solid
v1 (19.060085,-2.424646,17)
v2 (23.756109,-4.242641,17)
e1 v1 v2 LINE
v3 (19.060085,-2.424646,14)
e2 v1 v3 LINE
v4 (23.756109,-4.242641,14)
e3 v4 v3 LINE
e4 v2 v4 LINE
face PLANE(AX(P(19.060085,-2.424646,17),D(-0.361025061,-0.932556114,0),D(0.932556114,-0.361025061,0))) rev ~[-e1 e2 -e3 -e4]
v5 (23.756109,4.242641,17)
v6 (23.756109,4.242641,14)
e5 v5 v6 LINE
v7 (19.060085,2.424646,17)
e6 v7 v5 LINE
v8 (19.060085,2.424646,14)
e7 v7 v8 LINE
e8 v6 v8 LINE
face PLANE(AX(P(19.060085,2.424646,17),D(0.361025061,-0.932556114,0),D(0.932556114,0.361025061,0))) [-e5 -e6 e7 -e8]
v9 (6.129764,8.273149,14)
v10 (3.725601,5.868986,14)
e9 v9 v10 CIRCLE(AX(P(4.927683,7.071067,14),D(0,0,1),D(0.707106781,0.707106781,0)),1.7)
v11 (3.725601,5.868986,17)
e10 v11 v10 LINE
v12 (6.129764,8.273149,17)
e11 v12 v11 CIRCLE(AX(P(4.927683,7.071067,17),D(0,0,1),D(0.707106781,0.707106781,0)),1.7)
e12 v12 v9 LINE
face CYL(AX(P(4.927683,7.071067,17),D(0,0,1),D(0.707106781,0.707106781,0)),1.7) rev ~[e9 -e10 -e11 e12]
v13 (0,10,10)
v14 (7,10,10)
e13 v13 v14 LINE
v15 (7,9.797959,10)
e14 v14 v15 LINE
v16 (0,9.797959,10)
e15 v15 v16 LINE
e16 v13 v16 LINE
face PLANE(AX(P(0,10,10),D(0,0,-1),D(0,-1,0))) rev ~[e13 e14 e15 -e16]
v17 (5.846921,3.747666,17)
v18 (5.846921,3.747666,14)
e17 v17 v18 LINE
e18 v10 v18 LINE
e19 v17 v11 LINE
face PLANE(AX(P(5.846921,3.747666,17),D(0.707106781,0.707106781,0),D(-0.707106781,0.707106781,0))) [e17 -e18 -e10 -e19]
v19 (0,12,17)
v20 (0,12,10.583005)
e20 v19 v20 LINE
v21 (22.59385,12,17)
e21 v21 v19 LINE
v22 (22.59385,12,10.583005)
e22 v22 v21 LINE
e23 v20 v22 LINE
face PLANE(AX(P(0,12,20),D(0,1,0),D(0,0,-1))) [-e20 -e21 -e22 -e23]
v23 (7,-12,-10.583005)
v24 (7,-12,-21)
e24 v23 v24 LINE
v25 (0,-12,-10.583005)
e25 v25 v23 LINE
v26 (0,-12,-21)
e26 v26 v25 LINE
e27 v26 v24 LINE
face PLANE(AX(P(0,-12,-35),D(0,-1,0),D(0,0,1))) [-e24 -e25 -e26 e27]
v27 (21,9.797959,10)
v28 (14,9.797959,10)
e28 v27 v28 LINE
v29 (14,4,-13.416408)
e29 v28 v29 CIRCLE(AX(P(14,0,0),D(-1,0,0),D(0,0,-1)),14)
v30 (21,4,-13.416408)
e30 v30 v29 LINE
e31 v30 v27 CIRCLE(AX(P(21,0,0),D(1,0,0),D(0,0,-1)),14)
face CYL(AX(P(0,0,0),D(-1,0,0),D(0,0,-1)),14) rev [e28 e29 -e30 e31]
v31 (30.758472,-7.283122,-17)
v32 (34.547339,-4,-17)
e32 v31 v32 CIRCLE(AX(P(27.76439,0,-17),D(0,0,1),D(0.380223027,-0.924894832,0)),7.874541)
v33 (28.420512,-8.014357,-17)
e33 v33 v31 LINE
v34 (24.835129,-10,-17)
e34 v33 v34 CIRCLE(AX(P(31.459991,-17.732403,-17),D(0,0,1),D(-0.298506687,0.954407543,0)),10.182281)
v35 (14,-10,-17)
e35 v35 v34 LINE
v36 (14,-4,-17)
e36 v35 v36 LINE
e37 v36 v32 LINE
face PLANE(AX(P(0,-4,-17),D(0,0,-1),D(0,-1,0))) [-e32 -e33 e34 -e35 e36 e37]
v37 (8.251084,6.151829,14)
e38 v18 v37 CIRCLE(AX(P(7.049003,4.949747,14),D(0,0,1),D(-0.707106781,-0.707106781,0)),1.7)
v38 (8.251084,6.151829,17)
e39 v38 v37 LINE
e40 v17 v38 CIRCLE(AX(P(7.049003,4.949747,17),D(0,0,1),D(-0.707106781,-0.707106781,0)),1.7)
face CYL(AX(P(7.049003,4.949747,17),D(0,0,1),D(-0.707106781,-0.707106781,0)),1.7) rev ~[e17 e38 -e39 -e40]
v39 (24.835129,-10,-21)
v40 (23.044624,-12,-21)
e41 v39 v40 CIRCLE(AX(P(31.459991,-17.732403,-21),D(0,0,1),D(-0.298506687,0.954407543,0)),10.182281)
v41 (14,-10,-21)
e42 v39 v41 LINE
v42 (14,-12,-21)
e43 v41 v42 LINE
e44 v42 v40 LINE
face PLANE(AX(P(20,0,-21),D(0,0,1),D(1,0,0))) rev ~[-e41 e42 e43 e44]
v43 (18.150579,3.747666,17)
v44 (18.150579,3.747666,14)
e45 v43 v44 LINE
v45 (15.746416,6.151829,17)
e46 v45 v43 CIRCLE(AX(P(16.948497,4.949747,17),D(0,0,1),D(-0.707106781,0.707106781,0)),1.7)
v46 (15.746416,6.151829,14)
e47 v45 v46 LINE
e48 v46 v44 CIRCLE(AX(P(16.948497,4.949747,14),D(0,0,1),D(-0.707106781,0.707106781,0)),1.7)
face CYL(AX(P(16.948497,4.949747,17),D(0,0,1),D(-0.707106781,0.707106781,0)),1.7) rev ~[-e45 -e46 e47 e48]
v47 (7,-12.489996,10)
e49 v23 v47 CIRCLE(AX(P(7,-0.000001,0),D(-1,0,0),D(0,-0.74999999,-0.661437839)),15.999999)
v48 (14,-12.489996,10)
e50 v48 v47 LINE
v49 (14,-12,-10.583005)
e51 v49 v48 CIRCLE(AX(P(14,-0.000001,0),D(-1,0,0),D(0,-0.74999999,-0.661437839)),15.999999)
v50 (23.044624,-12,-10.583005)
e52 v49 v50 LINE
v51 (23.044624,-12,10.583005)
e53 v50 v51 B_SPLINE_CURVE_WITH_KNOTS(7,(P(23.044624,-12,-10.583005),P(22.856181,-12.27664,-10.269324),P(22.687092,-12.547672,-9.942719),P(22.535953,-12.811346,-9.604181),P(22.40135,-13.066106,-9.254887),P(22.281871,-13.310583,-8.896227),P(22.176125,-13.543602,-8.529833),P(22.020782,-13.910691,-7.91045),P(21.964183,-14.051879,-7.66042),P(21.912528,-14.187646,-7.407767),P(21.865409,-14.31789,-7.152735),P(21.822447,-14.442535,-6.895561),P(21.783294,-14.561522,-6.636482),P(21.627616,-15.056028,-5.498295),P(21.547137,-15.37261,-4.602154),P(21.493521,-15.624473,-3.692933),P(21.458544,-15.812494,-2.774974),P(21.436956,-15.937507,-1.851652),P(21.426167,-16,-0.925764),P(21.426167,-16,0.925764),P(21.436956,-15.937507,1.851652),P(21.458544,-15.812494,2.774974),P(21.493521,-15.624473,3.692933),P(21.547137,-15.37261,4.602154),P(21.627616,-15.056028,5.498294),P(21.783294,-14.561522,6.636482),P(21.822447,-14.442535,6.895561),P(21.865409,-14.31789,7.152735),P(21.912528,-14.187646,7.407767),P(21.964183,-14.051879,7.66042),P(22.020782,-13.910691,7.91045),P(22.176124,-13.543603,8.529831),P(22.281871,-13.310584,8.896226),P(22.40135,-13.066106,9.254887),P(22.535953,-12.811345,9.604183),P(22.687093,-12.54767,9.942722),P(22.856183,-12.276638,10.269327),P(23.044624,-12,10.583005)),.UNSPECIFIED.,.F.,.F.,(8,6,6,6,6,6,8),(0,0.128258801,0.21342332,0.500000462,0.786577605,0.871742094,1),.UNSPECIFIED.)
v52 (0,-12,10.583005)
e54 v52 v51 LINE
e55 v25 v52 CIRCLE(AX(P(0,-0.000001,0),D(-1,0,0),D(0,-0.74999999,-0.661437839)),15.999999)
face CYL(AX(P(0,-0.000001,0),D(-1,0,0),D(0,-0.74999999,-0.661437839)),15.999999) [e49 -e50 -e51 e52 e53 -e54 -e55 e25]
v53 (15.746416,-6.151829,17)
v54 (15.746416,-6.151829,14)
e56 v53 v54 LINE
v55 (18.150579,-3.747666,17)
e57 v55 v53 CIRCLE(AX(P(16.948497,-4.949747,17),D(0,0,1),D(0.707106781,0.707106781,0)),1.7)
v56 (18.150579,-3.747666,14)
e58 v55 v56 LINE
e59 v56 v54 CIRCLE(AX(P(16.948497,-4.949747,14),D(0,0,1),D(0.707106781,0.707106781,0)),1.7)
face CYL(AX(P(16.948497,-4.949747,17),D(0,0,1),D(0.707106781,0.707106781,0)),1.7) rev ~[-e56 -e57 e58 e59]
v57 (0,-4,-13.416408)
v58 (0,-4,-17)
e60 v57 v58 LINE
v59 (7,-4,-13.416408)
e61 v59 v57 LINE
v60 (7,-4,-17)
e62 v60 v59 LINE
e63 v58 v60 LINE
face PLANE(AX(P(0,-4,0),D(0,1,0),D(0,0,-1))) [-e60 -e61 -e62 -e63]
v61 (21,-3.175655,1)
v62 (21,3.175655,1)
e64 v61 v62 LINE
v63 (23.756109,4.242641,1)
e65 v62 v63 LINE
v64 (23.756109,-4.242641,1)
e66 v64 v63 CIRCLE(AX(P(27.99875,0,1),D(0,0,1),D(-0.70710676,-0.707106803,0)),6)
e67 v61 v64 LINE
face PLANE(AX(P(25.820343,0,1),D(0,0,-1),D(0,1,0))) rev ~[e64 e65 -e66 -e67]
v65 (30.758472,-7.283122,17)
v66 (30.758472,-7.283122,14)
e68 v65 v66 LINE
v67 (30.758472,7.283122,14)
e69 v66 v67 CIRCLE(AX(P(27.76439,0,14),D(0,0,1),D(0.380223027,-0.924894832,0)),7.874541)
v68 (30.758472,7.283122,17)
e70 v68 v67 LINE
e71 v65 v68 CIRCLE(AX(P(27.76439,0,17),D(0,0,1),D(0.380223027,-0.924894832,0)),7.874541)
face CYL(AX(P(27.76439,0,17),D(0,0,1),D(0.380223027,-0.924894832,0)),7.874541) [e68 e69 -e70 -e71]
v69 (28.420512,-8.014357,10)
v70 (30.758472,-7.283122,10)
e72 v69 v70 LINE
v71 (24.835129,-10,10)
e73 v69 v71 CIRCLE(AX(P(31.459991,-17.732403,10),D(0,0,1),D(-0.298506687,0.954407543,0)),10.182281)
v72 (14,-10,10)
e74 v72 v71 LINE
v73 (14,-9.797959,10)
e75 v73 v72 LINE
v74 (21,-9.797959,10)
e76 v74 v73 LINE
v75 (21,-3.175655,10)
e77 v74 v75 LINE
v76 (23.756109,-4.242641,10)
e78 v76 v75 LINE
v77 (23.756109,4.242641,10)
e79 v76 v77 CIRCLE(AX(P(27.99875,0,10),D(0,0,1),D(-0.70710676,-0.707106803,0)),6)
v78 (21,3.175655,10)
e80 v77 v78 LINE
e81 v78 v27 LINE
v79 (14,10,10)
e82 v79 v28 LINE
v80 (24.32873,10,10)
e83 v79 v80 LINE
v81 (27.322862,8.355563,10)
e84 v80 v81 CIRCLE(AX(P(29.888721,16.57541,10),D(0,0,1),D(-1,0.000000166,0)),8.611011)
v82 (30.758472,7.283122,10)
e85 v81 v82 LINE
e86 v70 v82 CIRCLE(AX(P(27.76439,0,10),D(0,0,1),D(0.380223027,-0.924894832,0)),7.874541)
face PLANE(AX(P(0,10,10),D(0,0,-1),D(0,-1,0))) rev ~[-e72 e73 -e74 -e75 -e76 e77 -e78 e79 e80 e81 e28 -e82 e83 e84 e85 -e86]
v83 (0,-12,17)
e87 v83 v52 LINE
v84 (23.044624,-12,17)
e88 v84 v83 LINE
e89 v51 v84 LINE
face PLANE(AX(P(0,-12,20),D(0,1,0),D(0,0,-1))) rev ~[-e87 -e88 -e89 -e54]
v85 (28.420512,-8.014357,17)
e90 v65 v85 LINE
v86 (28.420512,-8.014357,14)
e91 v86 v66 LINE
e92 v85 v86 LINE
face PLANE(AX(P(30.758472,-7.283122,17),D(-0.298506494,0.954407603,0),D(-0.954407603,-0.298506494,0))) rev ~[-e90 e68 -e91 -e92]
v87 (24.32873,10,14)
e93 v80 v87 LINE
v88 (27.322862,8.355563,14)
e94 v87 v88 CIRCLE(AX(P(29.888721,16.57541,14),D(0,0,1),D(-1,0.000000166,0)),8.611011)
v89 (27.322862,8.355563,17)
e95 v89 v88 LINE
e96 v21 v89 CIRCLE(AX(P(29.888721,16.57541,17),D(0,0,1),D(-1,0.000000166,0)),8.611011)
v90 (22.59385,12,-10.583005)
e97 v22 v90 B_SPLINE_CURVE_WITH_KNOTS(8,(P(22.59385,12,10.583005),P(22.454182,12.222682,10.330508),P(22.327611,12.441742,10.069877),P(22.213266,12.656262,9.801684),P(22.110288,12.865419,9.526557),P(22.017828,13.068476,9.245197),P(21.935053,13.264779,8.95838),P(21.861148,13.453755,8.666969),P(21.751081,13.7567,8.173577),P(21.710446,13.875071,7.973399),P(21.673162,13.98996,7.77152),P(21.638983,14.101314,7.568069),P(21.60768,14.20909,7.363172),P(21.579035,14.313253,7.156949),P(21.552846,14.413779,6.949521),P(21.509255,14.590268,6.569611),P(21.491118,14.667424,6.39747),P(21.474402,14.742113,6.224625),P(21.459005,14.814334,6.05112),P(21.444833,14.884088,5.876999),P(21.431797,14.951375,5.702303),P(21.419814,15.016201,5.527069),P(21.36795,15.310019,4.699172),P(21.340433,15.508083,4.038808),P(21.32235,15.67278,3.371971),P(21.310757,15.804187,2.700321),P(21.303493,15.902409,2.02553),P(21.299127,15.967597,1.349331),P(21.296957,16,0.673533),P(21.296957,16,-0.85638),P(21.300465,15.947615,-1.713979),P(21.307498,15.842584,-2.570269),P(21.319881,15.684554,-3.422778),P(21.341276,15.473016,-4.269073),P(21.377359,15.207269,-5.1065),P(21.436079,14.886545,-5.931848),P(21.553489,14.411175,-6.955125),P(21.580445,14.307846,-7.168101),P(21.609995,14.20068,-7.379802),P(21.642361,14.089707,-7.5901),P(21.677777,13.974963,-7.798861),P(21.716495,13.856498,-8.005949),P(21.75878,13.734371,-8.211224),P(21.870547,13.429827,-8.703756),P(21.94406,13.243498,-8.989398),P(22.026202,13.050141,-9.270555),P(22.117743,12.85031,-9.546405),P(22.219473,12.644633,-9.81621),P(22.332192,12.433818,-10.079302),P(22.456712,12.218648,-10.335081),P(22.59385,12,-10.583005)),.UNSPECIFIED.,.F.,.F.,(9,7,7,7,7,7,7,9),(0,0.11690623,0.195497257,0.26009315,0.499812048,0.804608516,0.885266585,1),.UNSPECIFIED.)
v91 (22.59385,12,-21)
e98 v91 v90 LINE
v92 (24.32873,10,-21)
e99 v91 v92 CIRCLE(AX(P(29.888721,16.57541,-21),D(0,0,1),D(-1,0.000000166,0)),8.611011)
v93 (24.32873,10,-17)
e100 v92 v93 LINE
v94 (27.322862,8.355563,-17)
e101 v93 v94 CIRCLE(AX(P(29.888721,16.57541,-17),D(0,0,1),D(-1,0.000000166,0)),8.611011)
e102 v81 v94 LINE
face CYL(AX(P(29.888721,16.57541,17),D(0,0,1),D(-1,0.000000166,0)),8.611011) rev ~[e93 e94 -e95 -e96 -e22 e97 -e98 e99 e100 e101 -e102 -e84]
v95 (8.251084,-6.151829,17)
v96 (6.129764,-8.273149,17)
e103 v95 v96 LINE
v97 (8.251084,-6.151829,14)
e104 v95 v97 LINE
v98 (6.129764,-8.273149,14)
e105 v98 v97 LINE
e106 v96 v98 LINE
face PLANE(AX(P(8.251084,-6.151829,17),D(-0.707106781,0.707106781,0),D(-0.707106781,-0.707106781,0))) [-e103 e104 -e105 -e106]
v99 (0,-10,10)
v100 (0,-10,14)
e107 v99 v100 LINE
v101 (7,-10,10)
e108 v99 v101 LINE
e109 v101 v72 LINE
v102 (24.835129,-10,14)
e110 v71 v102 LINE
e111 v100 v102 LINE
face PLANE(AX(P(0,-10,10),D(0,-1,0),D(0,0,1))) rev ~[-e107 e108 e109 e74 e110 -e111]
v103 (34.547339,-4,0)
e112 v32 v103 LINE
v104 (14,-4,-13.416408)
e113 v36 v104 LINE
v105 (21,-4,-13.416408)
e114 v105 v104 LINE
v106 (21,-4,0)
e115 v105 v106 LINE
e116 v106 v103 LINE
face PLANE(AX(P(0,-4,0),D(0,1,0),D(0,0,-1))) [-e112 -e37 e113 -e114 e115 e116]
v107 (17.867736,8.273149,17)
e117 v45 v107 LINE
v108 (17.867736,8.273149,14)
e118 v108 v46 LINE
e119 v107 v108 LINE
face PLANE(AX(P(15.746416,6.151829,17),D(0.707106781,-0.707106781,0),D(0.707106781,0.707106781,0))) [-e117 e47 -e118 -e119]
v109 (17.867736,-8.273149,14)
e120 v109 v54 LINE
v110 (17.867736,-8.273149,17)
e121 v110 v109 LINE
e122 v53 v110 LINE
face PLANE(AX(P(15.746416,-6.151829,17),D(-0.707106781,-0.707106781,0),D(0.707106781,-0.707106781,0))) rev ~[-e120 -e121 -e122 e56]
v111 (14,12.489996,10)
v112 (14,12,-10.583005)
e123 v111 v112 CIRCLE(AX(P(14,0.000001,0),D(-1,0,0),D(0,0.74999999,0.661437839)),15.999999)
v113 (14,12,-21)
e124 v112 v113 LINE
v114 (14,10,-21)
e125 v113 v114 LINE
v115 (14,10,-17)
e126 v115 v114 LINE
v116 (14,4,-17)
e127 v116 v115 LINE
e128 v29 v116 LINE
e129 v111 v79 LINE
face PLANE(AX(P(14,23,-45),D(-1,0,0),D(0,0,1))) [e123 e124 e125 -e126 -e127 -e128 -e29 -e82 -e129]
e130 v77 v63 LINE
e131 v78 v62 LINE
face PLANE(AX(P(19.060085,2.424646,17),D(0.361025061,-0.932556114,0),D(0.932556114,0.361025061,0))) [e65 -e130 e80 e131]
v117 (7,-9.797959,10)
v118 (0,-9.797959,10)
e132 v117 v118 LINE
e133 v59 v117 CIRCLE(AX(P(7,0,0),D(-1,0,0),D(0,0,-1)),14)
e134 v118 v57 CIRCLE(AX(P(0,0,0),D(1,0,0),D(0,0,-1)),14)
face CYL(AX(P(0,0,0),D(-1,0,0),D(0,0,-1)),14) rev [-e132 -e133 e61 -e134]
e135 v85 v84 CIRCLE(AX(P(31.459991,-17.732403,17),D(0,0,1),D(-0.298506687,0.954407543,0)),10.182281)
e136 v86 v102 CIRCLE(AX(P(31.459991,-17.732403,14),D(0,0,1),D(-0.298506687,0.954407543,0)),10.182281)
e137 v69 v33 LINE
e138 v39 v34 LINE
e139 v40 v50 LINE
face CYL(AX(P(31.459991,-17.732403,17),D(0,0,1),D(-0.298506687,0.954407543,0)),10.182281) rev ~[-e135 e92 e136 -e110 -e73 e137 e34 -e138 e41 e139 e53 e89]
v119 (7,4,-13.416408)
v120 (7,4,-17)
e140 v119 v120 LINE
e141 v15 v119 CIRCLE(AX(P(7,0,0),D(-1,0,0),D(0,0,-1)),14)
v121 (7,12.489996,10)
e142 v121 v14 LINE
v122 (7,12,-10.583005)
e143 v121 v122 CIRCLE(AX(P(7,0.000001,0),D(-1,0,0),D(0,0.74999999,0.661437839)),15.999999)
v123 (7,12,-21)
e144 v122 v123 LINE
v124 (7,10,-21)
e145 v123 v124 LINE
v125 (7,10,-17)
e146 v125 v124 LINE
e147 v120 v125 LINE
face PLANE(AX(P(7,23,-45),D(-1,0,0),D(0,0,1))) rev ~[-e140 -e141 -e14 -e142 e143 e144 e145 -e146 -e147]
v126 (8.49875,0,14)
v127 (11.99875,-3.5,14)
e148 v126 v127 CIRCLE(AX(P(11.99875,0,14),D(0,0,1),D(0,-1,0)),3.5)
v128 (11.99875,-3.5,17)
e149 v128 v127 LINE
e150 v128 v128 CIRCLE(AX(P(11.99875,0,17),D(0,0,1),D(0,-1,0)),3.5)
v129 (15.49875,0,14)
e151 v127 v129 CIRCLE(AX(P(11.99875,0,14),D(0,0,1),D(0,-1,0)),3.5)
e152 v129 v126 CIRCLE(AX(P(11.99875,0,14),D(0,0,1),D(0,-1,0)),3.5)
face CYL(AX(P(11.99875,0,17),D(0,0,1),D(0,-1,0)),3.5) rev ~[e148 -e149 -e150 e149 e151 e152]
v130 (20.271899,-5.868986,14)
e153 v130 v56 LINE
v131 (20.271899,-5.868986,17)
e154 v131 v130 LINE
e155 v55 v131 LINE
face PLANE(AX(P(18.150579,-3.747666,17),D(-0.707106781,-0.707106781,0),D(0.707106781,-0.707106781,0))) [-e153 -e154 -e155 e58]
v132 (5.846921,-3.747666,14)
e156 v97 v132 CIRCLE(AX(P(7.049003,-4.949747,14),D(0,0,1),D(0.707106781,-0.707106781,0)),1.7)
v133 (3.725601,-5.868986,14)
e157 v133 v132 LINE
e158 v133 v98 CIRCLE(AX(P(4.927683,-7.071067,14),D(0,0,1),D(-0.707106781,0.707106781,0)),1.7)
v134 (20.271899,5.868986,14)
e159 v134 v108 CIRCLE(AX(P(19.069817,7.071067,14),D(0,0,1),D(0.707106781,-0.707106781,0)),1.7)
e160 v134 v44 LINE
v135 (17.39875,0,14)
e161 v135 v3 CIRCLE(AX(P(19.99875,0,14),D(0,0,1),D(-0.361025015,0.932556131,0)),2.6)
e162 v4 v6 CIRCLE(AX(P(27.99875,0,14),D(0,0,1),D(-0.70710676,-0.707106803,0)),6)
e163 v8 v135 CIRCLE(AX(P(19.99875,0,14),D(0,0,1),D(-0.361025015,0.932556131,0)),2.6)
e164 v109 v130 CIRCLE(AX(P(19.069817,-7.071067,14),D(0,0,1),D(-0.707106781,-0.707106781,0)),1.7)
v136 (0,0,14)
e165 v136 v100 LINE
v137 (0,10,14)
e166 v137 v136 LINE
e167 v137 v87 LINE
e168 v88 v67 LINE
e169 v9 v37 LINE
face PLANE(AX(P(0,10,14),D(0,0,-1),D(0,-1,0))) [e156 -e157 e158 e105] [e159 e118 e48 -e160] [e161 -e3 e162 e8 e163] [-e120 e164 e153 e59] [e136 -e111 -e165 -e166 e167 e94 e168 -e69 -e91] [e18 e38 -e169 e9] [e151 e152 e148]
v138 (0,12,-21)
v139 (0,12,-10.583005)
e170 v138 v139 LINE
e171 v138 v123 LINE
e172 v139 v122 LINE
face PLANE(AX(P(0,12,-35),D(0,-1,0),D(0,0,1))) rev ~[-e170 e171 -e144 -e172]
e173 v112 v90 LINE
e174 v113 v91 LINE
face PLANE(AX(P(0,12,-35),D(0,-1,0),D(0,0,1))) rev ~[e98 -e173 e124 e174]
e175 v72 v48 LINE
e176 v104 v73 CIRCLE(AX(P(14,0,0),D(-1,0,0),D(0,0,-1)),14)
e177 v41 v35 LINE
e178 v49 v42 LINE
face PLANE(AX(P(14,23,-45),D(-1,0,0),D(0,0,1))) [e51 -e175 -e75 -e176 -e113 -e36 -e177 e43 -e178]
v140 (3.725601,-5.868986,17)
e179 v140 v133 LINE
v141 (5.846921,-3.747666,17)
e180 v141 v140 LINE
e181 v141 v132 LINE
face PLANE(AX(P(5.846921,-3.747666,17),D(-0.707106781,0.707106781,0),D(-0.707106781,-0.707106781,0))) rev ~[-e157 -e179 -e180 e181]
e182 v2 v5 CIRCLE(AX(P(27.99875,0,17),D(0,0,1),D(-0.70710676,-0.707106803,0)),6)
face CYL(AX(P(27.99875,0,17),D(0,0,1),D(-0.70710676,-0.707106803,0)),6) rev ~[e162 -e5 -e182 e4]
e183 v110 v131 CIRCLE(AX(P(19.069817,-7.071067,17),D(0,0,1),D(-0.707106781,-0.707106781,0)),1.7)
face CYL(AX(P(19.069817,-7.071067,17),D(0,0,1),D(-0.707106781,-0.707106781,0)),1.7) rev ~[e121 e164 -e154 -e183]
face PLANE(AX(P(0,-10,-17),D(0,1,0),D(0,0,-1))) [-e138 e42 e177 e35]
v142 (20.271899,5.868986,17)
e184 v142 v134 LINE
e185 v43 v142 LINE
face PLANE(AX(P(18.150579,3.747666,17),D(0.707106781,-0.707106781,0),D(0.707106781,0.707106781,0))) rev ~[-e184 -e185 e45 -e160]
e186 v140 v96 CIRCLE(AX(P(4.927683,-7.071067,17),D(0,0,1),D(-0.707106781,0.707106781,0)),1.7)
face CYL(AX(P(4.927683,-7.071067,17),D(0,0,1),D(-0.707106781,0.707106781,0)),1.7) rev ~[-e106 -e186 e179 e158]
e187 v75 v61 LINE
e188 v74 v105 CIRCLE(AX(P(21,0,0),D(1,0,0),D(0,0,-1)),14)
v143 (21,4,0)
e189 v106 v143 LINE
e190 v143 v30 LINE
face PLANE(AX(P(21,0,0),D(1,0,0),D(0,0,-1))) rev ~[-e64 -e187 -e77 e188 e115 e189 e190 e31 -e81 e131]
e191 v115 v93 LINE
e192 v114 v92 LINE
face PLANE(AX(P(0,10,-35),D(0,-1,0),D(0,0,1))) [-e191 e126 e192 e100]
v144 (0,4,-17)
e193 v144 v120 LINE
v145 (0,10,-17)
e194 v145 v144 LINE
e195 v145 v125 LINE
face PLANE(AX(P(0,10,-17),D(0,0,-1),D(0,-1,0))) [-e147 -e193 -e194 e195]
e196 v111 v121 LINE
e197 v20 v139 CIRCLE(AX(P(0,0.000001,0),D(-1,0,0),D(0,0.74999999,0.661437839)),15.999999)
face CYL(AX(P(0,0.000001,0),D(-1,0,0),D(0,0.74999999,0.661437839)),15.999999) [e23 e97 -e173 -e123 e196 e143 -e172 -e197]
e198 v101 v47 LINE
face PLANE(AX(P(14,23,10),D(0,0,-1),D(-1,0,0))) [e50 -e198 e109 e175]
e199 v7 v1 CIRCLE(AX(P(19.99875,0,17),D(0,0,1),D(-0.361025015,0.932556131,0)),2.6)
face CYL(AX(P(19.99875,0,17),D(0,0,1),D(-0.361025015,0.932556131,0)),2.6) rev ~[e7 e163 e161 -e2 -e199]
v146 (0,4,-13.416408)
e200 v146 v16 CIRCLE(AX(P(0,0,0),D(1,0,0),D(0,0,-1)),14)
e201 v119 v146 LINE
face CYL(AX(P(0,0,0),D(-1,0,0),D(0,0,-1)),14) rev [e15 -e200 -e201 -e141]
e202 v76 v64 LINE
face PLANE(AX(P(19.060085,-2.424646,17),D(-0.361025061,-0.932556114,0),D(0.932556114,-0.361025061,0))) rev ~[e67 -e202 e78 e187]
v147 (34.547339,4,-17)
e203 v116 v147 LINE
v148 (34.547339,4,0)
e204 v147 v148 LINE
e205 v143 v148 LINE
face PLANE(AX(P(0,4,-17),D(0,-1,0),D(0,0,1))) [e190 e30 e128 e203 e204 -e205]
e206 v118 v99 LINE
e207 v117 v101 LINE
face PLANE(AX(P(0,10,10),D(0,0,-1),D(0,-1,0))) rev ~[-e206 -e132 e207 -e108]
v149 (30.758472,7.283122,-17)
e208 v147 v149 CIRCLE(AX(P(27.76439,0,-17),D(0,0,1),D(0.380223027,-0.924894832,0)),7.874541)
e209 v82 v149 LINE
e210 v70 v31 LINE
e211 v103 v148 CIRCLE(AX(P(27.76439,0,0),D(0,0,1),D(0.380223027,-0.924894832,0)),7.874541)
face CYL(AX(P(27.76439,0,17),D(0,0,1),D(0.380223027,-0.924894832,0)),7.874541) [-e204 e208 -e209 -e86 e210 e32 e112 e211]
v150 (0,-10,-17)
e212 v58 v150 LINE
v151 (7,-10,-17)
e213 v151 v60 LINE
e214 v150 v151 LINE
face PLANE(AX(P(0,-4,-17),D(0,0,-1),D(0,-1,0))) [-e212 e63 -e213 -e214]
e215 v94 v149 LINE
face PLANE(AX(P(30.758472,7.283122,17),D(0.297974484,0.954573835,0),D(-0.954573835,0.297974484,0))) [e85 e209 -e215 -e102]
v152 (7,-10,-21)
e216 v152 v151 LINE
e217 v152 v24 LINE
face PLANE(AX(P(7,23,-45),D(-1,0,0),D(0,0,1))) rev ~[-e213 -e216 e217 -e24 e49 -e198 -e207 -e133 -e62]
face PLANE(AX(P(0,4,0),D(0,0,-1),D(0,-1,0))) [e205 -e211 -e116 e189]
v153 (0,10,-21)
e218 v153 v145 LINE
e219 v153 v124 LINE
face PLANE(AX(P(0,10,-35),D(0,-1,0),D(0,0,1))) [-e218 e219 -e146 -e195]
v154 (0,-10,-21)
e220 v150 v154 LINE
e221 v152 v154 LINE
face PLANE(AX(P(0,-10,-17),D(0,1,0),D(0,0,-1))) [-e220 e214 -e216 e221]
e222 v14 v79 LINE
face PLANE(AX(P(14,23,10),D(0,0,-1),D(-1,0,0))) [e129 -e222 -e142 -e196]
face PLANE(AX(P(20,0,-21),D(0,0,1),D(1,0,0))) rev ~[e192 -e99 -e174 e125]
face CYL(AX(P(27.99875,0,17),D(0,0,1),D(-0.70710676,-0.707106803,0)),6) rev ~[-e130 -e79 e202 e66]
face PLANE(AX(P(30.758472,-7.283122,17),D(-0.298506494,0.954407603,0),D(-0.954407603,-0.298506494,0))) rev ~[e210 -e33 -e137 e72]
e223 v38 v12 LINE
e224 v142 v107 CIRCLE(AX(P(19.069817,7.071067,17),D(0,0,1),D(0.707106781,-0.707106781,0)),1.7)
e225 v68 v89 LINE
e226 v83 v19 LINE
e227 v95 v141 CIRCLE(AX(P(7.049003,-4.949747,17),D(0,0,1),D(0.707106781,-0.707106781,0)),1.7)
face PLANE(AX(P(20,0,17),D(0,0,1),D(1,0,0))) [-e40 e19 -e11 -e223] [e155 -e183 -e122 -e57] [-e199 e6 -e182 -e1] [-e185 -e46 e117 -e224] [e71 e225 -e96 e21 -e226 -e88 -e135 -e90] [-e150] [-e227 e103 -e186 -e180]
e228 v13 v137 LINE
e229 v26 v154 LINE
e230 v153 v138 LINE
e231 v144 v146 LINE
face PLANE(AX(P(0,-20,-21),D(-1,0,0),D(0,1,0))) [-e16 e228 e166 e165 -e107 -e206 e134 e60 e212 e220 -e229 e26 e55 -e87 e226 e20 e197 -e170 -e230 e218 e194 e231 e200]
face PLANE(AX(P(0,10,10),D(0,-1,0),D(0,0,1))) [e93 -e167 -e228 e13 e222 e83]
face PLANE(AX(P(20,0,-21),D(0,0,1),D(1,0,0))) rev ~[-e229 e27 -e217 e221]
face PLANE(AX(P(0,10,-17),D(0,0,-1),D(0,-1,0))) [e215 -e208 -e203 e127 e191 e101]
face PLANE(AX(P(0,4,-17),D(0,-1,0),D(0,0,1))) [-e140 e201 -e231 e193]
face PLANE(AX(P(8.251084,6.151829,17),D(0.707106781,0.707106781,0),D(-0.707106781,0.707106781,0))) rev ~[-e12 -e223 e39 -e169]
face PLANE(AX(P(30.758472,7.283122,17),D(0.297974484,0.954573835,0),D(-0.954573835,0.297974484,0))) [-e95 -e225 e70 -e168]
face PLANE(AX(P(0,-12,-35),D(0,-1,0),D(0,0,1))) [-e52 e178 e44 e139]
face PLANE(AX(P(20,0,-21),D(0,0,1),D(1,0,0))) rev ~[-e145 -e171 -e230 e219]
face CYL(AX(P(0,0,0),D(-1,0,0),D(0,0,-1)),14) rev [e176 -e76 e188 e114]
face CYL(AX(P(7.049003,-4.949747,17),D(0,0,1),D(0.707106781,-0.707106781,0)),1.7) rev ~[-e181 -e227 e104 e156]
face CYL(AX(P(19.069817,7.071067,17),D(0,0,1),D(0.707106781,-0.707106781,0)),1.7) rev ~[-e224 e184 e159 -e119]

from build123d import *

# Parameters (mm, degrees)
EXTRUDE_DEPTH                             = 50
SKETCH004_AS_DRAWN_R                      = 3.5
EXTRUDE003_DEPTH                          = 16
EXTRUDE003_ONTO_SKETCH004_PLACEMENT_ANGLE = -90
SKETCH002_AS_DRAWN_W                      = 7
SKETCH002_AS_DRAWN_H                      = 55
EXTRUDE002_DEPTH                          = 50
EXTRUDE002_ONTO_SKETCH002_ROLL_ANGLE      = 90
EXTRUDE002_ONTO_SKETCH002_PLACEMENT_ANGLE = 180
SKETCH001_W                               = 20
SKETCH001_H                               = 4
EXTRUDE004_DEPTH                          = 40
CYLINDER_R                                = 14
CYLINDER_DEPTH                            = 21
CYLINDER_PITCH_ANGLE                      = 90
BOX_W                                     = 40
BOX_H                                     = 40
BOX_DEPTH                                 = 38


with BuildPart() as extrude_body:
    # Sketch → Extrude (new body)
    with BuildSketch(Plane.XY.offset(17)):
        with BuildLine():
            ThreePointArc((30.758472, -7.283122), (35.638931, 0), (30.758472, 7.283122))
            Line((30.758472, 7.283122), (27.322862, 8.355563))
            ThreePointArc((21.27771, 16.575411), (22.951713, 11.473701), (27.322862, 8.355563))
            Line((21.27771, 32.499498), (21.27771, 16.575411))
            Line((57.622795, 32.499498), (21.27771, 32.499498))
            Line((57.622795, -32.499498), (57.622795, 32.499498))
            Line((21.27771, -32.499498), (57.622795, -32.499498))
            Line((21.27771, -17.732402), (21.27771, -32.499498))
            ThreePointArc((28.420512, -8.014357), (23.25549, -11.702062), (21.27771, -17.732402))
            Line((30.758472, -7.283122), (28.420512, -8.014357))
        make_face()
    extrude(amount=-EXTRUDE_DEPTH)


with BuildPart() as motor_mount_sketch_extrude:
    # Sketch004 as drawn → Extrude003 (new)
    with BuildSketch(Plane.XY):
        with Locations((0, 15.99875)):
            Circle(SKETCH004_AS_DRAWN_R)
        with BuildLine():
            ThreePointArc((-6.151829, 19.746416), (-3.747666, 19.746416), (-3.747666, 22.150579))
            Line((-3.747666, 22.150579), (-5.868986, 24.271899))
            ThreePointArc((-5.868986, 24.271899), (-8.273149, 24.271899), (-8.273149, 21.867736))
            Line((-6.151829, 19.746416), (-8.273149, 21.867736))
        make_face()
        with BuildLine():
            ThreePointArc((-3.747666, 9.846921), (-3.747666, 12.251084), (-6.151829, 12.251084))
            Line((-6.151829, 12.251084), (-8.273149, 10.129764))
            ThreePointArc((-8.273149, 10.129764), (-8.273149, 7.725601), (-5.868986, 7.725601))
            Line((-3.747666, 9.846921), (-5.868986, 7.725601))
        make_face()
        with BuildLine():
            ThreePointArc((6.151829, 12.251084), (3.747666, 12.251084), (3.747666, 9.846921))
            Line((3.747666, 9.846921), (5.868986, 7.725601))
            ThreePointArc((5.868986, 7.725601), (8.273149, 7.725601), (8.273149, 10.129764))
            Line((6.151829, 12.251084), (8.273149, 10.129764))
        make_face()
        with BuildLine():
            ThreePointArc((3.747666, 22.150579), (3.747666, 19.746416), (6.151829, 19.746416))
            Line((6.151829, 19.746416), (8.273149, 21.867736))
            ThreePointArc((8.273149, 21.867736), (8.273149, 24.271899), (5.868986, 24.271899))
            Line((3.747666, 22.150579), (5.868986, 24.271899))
        make_face()
        with BuildLine():
            Line((-2.424646, 23.060085), (-4.242641, 27.756109))
            ThreePointArc((4.242641, 27.756109), (0, 37.99875), (-4.242641, 27.756109))
            Line((2.424646, 23.060085), (4.242641, 27.756109))
            ThreePointArc((-2.424646, 23.060085), (0, 21.39875), (2.424646, 23.060085))
        make_face()
    extrude(amount=-EXTRUDE003_DEPTH)


with BuildPart() as motor_mount_sketch_extrude_1:
    # Extrude003 onto Sketch004 placement: moved
    add(motor_mount_sketch_extrude.part.moved(Location((-4, 0, 17))).rotate(Axis((-4, 0, 17), (0, 0, 1)), EXTRUDE003_ONTO_SKETCH004_PLACEMENT_ANGLE))


with BuildPart() as side_cute_lite_extrude:
    # Sketch002 as drawn → Extrude002 (new)
    with BuildSketch(Plane.XY):
        with Locations((-10.5, -17.5)):
            Rectangle(SKETCH002_AS_DRAWN_W, SKETCH002_AS_DRAWN_H)
    extrude(amount=-EXTRUDE002_DEPTH)


with BuildPart() as side_cute_lite_extrude_1:
    # Extrude002 onto Sketch002 roll: moved
    add(side_cute_lite_extrude.part.rotate(Axis((0, 0, 0), (1, 0, 0)), EXTRUDE002_ONTO_SKETCH002_ROLL_ANGLE))


with BuildPart() as side_cute_lite_extrude_2:
    # Extrude002 onto Sketch002 placement: moved
    add(side_cute_lite_extrude_1.part.moved(Location((0, 23, 0))).rotate(Axis((0, 23, 0), (0, 0, 1)), EXTRUDE002_ONTO_SKETCH002_PLACEMENT_ANGLE))


with BuildPart() as outer_tube_profile_extrude:
    # Sketch001 → Extrude004 (new body)
    with BuildSketch(Plane(origin=(0, 0, 0), x_dir=(0, -1, 0), z_dir=(-1, 0, 0))):
        with BuildLine():
            Line((-12, 20), (-12, 10.583005))
            ThreePointArc((-12, 10.583005), (-16, 0), (-12, -10.583005))
            Line((-12, -35), (-12, -10.583005))
            Line((-32, -35), (-12, -35))
            Line((-32, 20), (-32, -35))
            Line((-12, 20), (-32, 20))
        make_face()
        with BuildLine():
            ThreePointArc((12, -10.583005), (16, 0), (12, 10.583005))
            Line((12, 20), (12, 10.583005))
            Line((12, 20), (32, 20))
            Line((32, 20), (32, -35))
            Line((32, -35), (12, -35))
            Line((12, -35), (12, -10.583005))
        make_face()
        Polygon((-4, 0), (4, 0), (4, -17), (10, -17), (10, -35), (-10, -35), (-10, -17), (-4, -17), align=None)
        with Locations((0, 12)):
            Rectangle(SKETCH001_W, SKETCH001_H)
    extrude(amount=-EXTRUDE004_DEPTH)


with BuildPart() as cylinder:
    # Cylinder → Cylinder (new body)
    with BuildSketch(Plane.XY):
        Circle(CYLINDER_R)
    extrude(amount=CYLINDER_DEPTH)


with BuildPart() as cylinder_1:
    # Cylinder pitch: moved
    add(cylinder.part.rotate(Axis((0, 0, 0), (0, 1, 0)), CYLINDER_PITCH_ANGLE))


with BuildPart() as cylinder_2:
    # Cylinder placement: moved
    add(cylinder_1.part)


with BuildPart() as cut004:
    # Box → Box (new body)
    with BuildSketch(Plane(origin=(0, -20, -21), x_dir=(1, 0, 0), z_dir=(0, 0, 1))):
        with Locations((20, 20)):
            Rectangle(BOX_W, BOX_H)
    extrude(amount=BOX_DEPTH)

    # Cut: cut Cylinder
    add(cylinder_2.part, mode=Mode.SUBTRACT)

    # Cut001: cut Outer_tube_profile_extrude
    add(outer_tube_profile_extrude.part, mode=Mode.SUBTRACT)

    # Cut002: cut Side_cute_lite_extrude
    add(side_cute_lite_extrude_2.part, mode=Mode.SUBTRACT)

    # Cut003: cut motor_mount_sketch_extrude
    add(motor_mount_sketch_extrude_1.part, mode=Mode.SUBTRACT)

    # Cut004: cut Extrude body
    add(extrude_body.part, mode=Mode.SUBTRACT)


solid = cut004.part
